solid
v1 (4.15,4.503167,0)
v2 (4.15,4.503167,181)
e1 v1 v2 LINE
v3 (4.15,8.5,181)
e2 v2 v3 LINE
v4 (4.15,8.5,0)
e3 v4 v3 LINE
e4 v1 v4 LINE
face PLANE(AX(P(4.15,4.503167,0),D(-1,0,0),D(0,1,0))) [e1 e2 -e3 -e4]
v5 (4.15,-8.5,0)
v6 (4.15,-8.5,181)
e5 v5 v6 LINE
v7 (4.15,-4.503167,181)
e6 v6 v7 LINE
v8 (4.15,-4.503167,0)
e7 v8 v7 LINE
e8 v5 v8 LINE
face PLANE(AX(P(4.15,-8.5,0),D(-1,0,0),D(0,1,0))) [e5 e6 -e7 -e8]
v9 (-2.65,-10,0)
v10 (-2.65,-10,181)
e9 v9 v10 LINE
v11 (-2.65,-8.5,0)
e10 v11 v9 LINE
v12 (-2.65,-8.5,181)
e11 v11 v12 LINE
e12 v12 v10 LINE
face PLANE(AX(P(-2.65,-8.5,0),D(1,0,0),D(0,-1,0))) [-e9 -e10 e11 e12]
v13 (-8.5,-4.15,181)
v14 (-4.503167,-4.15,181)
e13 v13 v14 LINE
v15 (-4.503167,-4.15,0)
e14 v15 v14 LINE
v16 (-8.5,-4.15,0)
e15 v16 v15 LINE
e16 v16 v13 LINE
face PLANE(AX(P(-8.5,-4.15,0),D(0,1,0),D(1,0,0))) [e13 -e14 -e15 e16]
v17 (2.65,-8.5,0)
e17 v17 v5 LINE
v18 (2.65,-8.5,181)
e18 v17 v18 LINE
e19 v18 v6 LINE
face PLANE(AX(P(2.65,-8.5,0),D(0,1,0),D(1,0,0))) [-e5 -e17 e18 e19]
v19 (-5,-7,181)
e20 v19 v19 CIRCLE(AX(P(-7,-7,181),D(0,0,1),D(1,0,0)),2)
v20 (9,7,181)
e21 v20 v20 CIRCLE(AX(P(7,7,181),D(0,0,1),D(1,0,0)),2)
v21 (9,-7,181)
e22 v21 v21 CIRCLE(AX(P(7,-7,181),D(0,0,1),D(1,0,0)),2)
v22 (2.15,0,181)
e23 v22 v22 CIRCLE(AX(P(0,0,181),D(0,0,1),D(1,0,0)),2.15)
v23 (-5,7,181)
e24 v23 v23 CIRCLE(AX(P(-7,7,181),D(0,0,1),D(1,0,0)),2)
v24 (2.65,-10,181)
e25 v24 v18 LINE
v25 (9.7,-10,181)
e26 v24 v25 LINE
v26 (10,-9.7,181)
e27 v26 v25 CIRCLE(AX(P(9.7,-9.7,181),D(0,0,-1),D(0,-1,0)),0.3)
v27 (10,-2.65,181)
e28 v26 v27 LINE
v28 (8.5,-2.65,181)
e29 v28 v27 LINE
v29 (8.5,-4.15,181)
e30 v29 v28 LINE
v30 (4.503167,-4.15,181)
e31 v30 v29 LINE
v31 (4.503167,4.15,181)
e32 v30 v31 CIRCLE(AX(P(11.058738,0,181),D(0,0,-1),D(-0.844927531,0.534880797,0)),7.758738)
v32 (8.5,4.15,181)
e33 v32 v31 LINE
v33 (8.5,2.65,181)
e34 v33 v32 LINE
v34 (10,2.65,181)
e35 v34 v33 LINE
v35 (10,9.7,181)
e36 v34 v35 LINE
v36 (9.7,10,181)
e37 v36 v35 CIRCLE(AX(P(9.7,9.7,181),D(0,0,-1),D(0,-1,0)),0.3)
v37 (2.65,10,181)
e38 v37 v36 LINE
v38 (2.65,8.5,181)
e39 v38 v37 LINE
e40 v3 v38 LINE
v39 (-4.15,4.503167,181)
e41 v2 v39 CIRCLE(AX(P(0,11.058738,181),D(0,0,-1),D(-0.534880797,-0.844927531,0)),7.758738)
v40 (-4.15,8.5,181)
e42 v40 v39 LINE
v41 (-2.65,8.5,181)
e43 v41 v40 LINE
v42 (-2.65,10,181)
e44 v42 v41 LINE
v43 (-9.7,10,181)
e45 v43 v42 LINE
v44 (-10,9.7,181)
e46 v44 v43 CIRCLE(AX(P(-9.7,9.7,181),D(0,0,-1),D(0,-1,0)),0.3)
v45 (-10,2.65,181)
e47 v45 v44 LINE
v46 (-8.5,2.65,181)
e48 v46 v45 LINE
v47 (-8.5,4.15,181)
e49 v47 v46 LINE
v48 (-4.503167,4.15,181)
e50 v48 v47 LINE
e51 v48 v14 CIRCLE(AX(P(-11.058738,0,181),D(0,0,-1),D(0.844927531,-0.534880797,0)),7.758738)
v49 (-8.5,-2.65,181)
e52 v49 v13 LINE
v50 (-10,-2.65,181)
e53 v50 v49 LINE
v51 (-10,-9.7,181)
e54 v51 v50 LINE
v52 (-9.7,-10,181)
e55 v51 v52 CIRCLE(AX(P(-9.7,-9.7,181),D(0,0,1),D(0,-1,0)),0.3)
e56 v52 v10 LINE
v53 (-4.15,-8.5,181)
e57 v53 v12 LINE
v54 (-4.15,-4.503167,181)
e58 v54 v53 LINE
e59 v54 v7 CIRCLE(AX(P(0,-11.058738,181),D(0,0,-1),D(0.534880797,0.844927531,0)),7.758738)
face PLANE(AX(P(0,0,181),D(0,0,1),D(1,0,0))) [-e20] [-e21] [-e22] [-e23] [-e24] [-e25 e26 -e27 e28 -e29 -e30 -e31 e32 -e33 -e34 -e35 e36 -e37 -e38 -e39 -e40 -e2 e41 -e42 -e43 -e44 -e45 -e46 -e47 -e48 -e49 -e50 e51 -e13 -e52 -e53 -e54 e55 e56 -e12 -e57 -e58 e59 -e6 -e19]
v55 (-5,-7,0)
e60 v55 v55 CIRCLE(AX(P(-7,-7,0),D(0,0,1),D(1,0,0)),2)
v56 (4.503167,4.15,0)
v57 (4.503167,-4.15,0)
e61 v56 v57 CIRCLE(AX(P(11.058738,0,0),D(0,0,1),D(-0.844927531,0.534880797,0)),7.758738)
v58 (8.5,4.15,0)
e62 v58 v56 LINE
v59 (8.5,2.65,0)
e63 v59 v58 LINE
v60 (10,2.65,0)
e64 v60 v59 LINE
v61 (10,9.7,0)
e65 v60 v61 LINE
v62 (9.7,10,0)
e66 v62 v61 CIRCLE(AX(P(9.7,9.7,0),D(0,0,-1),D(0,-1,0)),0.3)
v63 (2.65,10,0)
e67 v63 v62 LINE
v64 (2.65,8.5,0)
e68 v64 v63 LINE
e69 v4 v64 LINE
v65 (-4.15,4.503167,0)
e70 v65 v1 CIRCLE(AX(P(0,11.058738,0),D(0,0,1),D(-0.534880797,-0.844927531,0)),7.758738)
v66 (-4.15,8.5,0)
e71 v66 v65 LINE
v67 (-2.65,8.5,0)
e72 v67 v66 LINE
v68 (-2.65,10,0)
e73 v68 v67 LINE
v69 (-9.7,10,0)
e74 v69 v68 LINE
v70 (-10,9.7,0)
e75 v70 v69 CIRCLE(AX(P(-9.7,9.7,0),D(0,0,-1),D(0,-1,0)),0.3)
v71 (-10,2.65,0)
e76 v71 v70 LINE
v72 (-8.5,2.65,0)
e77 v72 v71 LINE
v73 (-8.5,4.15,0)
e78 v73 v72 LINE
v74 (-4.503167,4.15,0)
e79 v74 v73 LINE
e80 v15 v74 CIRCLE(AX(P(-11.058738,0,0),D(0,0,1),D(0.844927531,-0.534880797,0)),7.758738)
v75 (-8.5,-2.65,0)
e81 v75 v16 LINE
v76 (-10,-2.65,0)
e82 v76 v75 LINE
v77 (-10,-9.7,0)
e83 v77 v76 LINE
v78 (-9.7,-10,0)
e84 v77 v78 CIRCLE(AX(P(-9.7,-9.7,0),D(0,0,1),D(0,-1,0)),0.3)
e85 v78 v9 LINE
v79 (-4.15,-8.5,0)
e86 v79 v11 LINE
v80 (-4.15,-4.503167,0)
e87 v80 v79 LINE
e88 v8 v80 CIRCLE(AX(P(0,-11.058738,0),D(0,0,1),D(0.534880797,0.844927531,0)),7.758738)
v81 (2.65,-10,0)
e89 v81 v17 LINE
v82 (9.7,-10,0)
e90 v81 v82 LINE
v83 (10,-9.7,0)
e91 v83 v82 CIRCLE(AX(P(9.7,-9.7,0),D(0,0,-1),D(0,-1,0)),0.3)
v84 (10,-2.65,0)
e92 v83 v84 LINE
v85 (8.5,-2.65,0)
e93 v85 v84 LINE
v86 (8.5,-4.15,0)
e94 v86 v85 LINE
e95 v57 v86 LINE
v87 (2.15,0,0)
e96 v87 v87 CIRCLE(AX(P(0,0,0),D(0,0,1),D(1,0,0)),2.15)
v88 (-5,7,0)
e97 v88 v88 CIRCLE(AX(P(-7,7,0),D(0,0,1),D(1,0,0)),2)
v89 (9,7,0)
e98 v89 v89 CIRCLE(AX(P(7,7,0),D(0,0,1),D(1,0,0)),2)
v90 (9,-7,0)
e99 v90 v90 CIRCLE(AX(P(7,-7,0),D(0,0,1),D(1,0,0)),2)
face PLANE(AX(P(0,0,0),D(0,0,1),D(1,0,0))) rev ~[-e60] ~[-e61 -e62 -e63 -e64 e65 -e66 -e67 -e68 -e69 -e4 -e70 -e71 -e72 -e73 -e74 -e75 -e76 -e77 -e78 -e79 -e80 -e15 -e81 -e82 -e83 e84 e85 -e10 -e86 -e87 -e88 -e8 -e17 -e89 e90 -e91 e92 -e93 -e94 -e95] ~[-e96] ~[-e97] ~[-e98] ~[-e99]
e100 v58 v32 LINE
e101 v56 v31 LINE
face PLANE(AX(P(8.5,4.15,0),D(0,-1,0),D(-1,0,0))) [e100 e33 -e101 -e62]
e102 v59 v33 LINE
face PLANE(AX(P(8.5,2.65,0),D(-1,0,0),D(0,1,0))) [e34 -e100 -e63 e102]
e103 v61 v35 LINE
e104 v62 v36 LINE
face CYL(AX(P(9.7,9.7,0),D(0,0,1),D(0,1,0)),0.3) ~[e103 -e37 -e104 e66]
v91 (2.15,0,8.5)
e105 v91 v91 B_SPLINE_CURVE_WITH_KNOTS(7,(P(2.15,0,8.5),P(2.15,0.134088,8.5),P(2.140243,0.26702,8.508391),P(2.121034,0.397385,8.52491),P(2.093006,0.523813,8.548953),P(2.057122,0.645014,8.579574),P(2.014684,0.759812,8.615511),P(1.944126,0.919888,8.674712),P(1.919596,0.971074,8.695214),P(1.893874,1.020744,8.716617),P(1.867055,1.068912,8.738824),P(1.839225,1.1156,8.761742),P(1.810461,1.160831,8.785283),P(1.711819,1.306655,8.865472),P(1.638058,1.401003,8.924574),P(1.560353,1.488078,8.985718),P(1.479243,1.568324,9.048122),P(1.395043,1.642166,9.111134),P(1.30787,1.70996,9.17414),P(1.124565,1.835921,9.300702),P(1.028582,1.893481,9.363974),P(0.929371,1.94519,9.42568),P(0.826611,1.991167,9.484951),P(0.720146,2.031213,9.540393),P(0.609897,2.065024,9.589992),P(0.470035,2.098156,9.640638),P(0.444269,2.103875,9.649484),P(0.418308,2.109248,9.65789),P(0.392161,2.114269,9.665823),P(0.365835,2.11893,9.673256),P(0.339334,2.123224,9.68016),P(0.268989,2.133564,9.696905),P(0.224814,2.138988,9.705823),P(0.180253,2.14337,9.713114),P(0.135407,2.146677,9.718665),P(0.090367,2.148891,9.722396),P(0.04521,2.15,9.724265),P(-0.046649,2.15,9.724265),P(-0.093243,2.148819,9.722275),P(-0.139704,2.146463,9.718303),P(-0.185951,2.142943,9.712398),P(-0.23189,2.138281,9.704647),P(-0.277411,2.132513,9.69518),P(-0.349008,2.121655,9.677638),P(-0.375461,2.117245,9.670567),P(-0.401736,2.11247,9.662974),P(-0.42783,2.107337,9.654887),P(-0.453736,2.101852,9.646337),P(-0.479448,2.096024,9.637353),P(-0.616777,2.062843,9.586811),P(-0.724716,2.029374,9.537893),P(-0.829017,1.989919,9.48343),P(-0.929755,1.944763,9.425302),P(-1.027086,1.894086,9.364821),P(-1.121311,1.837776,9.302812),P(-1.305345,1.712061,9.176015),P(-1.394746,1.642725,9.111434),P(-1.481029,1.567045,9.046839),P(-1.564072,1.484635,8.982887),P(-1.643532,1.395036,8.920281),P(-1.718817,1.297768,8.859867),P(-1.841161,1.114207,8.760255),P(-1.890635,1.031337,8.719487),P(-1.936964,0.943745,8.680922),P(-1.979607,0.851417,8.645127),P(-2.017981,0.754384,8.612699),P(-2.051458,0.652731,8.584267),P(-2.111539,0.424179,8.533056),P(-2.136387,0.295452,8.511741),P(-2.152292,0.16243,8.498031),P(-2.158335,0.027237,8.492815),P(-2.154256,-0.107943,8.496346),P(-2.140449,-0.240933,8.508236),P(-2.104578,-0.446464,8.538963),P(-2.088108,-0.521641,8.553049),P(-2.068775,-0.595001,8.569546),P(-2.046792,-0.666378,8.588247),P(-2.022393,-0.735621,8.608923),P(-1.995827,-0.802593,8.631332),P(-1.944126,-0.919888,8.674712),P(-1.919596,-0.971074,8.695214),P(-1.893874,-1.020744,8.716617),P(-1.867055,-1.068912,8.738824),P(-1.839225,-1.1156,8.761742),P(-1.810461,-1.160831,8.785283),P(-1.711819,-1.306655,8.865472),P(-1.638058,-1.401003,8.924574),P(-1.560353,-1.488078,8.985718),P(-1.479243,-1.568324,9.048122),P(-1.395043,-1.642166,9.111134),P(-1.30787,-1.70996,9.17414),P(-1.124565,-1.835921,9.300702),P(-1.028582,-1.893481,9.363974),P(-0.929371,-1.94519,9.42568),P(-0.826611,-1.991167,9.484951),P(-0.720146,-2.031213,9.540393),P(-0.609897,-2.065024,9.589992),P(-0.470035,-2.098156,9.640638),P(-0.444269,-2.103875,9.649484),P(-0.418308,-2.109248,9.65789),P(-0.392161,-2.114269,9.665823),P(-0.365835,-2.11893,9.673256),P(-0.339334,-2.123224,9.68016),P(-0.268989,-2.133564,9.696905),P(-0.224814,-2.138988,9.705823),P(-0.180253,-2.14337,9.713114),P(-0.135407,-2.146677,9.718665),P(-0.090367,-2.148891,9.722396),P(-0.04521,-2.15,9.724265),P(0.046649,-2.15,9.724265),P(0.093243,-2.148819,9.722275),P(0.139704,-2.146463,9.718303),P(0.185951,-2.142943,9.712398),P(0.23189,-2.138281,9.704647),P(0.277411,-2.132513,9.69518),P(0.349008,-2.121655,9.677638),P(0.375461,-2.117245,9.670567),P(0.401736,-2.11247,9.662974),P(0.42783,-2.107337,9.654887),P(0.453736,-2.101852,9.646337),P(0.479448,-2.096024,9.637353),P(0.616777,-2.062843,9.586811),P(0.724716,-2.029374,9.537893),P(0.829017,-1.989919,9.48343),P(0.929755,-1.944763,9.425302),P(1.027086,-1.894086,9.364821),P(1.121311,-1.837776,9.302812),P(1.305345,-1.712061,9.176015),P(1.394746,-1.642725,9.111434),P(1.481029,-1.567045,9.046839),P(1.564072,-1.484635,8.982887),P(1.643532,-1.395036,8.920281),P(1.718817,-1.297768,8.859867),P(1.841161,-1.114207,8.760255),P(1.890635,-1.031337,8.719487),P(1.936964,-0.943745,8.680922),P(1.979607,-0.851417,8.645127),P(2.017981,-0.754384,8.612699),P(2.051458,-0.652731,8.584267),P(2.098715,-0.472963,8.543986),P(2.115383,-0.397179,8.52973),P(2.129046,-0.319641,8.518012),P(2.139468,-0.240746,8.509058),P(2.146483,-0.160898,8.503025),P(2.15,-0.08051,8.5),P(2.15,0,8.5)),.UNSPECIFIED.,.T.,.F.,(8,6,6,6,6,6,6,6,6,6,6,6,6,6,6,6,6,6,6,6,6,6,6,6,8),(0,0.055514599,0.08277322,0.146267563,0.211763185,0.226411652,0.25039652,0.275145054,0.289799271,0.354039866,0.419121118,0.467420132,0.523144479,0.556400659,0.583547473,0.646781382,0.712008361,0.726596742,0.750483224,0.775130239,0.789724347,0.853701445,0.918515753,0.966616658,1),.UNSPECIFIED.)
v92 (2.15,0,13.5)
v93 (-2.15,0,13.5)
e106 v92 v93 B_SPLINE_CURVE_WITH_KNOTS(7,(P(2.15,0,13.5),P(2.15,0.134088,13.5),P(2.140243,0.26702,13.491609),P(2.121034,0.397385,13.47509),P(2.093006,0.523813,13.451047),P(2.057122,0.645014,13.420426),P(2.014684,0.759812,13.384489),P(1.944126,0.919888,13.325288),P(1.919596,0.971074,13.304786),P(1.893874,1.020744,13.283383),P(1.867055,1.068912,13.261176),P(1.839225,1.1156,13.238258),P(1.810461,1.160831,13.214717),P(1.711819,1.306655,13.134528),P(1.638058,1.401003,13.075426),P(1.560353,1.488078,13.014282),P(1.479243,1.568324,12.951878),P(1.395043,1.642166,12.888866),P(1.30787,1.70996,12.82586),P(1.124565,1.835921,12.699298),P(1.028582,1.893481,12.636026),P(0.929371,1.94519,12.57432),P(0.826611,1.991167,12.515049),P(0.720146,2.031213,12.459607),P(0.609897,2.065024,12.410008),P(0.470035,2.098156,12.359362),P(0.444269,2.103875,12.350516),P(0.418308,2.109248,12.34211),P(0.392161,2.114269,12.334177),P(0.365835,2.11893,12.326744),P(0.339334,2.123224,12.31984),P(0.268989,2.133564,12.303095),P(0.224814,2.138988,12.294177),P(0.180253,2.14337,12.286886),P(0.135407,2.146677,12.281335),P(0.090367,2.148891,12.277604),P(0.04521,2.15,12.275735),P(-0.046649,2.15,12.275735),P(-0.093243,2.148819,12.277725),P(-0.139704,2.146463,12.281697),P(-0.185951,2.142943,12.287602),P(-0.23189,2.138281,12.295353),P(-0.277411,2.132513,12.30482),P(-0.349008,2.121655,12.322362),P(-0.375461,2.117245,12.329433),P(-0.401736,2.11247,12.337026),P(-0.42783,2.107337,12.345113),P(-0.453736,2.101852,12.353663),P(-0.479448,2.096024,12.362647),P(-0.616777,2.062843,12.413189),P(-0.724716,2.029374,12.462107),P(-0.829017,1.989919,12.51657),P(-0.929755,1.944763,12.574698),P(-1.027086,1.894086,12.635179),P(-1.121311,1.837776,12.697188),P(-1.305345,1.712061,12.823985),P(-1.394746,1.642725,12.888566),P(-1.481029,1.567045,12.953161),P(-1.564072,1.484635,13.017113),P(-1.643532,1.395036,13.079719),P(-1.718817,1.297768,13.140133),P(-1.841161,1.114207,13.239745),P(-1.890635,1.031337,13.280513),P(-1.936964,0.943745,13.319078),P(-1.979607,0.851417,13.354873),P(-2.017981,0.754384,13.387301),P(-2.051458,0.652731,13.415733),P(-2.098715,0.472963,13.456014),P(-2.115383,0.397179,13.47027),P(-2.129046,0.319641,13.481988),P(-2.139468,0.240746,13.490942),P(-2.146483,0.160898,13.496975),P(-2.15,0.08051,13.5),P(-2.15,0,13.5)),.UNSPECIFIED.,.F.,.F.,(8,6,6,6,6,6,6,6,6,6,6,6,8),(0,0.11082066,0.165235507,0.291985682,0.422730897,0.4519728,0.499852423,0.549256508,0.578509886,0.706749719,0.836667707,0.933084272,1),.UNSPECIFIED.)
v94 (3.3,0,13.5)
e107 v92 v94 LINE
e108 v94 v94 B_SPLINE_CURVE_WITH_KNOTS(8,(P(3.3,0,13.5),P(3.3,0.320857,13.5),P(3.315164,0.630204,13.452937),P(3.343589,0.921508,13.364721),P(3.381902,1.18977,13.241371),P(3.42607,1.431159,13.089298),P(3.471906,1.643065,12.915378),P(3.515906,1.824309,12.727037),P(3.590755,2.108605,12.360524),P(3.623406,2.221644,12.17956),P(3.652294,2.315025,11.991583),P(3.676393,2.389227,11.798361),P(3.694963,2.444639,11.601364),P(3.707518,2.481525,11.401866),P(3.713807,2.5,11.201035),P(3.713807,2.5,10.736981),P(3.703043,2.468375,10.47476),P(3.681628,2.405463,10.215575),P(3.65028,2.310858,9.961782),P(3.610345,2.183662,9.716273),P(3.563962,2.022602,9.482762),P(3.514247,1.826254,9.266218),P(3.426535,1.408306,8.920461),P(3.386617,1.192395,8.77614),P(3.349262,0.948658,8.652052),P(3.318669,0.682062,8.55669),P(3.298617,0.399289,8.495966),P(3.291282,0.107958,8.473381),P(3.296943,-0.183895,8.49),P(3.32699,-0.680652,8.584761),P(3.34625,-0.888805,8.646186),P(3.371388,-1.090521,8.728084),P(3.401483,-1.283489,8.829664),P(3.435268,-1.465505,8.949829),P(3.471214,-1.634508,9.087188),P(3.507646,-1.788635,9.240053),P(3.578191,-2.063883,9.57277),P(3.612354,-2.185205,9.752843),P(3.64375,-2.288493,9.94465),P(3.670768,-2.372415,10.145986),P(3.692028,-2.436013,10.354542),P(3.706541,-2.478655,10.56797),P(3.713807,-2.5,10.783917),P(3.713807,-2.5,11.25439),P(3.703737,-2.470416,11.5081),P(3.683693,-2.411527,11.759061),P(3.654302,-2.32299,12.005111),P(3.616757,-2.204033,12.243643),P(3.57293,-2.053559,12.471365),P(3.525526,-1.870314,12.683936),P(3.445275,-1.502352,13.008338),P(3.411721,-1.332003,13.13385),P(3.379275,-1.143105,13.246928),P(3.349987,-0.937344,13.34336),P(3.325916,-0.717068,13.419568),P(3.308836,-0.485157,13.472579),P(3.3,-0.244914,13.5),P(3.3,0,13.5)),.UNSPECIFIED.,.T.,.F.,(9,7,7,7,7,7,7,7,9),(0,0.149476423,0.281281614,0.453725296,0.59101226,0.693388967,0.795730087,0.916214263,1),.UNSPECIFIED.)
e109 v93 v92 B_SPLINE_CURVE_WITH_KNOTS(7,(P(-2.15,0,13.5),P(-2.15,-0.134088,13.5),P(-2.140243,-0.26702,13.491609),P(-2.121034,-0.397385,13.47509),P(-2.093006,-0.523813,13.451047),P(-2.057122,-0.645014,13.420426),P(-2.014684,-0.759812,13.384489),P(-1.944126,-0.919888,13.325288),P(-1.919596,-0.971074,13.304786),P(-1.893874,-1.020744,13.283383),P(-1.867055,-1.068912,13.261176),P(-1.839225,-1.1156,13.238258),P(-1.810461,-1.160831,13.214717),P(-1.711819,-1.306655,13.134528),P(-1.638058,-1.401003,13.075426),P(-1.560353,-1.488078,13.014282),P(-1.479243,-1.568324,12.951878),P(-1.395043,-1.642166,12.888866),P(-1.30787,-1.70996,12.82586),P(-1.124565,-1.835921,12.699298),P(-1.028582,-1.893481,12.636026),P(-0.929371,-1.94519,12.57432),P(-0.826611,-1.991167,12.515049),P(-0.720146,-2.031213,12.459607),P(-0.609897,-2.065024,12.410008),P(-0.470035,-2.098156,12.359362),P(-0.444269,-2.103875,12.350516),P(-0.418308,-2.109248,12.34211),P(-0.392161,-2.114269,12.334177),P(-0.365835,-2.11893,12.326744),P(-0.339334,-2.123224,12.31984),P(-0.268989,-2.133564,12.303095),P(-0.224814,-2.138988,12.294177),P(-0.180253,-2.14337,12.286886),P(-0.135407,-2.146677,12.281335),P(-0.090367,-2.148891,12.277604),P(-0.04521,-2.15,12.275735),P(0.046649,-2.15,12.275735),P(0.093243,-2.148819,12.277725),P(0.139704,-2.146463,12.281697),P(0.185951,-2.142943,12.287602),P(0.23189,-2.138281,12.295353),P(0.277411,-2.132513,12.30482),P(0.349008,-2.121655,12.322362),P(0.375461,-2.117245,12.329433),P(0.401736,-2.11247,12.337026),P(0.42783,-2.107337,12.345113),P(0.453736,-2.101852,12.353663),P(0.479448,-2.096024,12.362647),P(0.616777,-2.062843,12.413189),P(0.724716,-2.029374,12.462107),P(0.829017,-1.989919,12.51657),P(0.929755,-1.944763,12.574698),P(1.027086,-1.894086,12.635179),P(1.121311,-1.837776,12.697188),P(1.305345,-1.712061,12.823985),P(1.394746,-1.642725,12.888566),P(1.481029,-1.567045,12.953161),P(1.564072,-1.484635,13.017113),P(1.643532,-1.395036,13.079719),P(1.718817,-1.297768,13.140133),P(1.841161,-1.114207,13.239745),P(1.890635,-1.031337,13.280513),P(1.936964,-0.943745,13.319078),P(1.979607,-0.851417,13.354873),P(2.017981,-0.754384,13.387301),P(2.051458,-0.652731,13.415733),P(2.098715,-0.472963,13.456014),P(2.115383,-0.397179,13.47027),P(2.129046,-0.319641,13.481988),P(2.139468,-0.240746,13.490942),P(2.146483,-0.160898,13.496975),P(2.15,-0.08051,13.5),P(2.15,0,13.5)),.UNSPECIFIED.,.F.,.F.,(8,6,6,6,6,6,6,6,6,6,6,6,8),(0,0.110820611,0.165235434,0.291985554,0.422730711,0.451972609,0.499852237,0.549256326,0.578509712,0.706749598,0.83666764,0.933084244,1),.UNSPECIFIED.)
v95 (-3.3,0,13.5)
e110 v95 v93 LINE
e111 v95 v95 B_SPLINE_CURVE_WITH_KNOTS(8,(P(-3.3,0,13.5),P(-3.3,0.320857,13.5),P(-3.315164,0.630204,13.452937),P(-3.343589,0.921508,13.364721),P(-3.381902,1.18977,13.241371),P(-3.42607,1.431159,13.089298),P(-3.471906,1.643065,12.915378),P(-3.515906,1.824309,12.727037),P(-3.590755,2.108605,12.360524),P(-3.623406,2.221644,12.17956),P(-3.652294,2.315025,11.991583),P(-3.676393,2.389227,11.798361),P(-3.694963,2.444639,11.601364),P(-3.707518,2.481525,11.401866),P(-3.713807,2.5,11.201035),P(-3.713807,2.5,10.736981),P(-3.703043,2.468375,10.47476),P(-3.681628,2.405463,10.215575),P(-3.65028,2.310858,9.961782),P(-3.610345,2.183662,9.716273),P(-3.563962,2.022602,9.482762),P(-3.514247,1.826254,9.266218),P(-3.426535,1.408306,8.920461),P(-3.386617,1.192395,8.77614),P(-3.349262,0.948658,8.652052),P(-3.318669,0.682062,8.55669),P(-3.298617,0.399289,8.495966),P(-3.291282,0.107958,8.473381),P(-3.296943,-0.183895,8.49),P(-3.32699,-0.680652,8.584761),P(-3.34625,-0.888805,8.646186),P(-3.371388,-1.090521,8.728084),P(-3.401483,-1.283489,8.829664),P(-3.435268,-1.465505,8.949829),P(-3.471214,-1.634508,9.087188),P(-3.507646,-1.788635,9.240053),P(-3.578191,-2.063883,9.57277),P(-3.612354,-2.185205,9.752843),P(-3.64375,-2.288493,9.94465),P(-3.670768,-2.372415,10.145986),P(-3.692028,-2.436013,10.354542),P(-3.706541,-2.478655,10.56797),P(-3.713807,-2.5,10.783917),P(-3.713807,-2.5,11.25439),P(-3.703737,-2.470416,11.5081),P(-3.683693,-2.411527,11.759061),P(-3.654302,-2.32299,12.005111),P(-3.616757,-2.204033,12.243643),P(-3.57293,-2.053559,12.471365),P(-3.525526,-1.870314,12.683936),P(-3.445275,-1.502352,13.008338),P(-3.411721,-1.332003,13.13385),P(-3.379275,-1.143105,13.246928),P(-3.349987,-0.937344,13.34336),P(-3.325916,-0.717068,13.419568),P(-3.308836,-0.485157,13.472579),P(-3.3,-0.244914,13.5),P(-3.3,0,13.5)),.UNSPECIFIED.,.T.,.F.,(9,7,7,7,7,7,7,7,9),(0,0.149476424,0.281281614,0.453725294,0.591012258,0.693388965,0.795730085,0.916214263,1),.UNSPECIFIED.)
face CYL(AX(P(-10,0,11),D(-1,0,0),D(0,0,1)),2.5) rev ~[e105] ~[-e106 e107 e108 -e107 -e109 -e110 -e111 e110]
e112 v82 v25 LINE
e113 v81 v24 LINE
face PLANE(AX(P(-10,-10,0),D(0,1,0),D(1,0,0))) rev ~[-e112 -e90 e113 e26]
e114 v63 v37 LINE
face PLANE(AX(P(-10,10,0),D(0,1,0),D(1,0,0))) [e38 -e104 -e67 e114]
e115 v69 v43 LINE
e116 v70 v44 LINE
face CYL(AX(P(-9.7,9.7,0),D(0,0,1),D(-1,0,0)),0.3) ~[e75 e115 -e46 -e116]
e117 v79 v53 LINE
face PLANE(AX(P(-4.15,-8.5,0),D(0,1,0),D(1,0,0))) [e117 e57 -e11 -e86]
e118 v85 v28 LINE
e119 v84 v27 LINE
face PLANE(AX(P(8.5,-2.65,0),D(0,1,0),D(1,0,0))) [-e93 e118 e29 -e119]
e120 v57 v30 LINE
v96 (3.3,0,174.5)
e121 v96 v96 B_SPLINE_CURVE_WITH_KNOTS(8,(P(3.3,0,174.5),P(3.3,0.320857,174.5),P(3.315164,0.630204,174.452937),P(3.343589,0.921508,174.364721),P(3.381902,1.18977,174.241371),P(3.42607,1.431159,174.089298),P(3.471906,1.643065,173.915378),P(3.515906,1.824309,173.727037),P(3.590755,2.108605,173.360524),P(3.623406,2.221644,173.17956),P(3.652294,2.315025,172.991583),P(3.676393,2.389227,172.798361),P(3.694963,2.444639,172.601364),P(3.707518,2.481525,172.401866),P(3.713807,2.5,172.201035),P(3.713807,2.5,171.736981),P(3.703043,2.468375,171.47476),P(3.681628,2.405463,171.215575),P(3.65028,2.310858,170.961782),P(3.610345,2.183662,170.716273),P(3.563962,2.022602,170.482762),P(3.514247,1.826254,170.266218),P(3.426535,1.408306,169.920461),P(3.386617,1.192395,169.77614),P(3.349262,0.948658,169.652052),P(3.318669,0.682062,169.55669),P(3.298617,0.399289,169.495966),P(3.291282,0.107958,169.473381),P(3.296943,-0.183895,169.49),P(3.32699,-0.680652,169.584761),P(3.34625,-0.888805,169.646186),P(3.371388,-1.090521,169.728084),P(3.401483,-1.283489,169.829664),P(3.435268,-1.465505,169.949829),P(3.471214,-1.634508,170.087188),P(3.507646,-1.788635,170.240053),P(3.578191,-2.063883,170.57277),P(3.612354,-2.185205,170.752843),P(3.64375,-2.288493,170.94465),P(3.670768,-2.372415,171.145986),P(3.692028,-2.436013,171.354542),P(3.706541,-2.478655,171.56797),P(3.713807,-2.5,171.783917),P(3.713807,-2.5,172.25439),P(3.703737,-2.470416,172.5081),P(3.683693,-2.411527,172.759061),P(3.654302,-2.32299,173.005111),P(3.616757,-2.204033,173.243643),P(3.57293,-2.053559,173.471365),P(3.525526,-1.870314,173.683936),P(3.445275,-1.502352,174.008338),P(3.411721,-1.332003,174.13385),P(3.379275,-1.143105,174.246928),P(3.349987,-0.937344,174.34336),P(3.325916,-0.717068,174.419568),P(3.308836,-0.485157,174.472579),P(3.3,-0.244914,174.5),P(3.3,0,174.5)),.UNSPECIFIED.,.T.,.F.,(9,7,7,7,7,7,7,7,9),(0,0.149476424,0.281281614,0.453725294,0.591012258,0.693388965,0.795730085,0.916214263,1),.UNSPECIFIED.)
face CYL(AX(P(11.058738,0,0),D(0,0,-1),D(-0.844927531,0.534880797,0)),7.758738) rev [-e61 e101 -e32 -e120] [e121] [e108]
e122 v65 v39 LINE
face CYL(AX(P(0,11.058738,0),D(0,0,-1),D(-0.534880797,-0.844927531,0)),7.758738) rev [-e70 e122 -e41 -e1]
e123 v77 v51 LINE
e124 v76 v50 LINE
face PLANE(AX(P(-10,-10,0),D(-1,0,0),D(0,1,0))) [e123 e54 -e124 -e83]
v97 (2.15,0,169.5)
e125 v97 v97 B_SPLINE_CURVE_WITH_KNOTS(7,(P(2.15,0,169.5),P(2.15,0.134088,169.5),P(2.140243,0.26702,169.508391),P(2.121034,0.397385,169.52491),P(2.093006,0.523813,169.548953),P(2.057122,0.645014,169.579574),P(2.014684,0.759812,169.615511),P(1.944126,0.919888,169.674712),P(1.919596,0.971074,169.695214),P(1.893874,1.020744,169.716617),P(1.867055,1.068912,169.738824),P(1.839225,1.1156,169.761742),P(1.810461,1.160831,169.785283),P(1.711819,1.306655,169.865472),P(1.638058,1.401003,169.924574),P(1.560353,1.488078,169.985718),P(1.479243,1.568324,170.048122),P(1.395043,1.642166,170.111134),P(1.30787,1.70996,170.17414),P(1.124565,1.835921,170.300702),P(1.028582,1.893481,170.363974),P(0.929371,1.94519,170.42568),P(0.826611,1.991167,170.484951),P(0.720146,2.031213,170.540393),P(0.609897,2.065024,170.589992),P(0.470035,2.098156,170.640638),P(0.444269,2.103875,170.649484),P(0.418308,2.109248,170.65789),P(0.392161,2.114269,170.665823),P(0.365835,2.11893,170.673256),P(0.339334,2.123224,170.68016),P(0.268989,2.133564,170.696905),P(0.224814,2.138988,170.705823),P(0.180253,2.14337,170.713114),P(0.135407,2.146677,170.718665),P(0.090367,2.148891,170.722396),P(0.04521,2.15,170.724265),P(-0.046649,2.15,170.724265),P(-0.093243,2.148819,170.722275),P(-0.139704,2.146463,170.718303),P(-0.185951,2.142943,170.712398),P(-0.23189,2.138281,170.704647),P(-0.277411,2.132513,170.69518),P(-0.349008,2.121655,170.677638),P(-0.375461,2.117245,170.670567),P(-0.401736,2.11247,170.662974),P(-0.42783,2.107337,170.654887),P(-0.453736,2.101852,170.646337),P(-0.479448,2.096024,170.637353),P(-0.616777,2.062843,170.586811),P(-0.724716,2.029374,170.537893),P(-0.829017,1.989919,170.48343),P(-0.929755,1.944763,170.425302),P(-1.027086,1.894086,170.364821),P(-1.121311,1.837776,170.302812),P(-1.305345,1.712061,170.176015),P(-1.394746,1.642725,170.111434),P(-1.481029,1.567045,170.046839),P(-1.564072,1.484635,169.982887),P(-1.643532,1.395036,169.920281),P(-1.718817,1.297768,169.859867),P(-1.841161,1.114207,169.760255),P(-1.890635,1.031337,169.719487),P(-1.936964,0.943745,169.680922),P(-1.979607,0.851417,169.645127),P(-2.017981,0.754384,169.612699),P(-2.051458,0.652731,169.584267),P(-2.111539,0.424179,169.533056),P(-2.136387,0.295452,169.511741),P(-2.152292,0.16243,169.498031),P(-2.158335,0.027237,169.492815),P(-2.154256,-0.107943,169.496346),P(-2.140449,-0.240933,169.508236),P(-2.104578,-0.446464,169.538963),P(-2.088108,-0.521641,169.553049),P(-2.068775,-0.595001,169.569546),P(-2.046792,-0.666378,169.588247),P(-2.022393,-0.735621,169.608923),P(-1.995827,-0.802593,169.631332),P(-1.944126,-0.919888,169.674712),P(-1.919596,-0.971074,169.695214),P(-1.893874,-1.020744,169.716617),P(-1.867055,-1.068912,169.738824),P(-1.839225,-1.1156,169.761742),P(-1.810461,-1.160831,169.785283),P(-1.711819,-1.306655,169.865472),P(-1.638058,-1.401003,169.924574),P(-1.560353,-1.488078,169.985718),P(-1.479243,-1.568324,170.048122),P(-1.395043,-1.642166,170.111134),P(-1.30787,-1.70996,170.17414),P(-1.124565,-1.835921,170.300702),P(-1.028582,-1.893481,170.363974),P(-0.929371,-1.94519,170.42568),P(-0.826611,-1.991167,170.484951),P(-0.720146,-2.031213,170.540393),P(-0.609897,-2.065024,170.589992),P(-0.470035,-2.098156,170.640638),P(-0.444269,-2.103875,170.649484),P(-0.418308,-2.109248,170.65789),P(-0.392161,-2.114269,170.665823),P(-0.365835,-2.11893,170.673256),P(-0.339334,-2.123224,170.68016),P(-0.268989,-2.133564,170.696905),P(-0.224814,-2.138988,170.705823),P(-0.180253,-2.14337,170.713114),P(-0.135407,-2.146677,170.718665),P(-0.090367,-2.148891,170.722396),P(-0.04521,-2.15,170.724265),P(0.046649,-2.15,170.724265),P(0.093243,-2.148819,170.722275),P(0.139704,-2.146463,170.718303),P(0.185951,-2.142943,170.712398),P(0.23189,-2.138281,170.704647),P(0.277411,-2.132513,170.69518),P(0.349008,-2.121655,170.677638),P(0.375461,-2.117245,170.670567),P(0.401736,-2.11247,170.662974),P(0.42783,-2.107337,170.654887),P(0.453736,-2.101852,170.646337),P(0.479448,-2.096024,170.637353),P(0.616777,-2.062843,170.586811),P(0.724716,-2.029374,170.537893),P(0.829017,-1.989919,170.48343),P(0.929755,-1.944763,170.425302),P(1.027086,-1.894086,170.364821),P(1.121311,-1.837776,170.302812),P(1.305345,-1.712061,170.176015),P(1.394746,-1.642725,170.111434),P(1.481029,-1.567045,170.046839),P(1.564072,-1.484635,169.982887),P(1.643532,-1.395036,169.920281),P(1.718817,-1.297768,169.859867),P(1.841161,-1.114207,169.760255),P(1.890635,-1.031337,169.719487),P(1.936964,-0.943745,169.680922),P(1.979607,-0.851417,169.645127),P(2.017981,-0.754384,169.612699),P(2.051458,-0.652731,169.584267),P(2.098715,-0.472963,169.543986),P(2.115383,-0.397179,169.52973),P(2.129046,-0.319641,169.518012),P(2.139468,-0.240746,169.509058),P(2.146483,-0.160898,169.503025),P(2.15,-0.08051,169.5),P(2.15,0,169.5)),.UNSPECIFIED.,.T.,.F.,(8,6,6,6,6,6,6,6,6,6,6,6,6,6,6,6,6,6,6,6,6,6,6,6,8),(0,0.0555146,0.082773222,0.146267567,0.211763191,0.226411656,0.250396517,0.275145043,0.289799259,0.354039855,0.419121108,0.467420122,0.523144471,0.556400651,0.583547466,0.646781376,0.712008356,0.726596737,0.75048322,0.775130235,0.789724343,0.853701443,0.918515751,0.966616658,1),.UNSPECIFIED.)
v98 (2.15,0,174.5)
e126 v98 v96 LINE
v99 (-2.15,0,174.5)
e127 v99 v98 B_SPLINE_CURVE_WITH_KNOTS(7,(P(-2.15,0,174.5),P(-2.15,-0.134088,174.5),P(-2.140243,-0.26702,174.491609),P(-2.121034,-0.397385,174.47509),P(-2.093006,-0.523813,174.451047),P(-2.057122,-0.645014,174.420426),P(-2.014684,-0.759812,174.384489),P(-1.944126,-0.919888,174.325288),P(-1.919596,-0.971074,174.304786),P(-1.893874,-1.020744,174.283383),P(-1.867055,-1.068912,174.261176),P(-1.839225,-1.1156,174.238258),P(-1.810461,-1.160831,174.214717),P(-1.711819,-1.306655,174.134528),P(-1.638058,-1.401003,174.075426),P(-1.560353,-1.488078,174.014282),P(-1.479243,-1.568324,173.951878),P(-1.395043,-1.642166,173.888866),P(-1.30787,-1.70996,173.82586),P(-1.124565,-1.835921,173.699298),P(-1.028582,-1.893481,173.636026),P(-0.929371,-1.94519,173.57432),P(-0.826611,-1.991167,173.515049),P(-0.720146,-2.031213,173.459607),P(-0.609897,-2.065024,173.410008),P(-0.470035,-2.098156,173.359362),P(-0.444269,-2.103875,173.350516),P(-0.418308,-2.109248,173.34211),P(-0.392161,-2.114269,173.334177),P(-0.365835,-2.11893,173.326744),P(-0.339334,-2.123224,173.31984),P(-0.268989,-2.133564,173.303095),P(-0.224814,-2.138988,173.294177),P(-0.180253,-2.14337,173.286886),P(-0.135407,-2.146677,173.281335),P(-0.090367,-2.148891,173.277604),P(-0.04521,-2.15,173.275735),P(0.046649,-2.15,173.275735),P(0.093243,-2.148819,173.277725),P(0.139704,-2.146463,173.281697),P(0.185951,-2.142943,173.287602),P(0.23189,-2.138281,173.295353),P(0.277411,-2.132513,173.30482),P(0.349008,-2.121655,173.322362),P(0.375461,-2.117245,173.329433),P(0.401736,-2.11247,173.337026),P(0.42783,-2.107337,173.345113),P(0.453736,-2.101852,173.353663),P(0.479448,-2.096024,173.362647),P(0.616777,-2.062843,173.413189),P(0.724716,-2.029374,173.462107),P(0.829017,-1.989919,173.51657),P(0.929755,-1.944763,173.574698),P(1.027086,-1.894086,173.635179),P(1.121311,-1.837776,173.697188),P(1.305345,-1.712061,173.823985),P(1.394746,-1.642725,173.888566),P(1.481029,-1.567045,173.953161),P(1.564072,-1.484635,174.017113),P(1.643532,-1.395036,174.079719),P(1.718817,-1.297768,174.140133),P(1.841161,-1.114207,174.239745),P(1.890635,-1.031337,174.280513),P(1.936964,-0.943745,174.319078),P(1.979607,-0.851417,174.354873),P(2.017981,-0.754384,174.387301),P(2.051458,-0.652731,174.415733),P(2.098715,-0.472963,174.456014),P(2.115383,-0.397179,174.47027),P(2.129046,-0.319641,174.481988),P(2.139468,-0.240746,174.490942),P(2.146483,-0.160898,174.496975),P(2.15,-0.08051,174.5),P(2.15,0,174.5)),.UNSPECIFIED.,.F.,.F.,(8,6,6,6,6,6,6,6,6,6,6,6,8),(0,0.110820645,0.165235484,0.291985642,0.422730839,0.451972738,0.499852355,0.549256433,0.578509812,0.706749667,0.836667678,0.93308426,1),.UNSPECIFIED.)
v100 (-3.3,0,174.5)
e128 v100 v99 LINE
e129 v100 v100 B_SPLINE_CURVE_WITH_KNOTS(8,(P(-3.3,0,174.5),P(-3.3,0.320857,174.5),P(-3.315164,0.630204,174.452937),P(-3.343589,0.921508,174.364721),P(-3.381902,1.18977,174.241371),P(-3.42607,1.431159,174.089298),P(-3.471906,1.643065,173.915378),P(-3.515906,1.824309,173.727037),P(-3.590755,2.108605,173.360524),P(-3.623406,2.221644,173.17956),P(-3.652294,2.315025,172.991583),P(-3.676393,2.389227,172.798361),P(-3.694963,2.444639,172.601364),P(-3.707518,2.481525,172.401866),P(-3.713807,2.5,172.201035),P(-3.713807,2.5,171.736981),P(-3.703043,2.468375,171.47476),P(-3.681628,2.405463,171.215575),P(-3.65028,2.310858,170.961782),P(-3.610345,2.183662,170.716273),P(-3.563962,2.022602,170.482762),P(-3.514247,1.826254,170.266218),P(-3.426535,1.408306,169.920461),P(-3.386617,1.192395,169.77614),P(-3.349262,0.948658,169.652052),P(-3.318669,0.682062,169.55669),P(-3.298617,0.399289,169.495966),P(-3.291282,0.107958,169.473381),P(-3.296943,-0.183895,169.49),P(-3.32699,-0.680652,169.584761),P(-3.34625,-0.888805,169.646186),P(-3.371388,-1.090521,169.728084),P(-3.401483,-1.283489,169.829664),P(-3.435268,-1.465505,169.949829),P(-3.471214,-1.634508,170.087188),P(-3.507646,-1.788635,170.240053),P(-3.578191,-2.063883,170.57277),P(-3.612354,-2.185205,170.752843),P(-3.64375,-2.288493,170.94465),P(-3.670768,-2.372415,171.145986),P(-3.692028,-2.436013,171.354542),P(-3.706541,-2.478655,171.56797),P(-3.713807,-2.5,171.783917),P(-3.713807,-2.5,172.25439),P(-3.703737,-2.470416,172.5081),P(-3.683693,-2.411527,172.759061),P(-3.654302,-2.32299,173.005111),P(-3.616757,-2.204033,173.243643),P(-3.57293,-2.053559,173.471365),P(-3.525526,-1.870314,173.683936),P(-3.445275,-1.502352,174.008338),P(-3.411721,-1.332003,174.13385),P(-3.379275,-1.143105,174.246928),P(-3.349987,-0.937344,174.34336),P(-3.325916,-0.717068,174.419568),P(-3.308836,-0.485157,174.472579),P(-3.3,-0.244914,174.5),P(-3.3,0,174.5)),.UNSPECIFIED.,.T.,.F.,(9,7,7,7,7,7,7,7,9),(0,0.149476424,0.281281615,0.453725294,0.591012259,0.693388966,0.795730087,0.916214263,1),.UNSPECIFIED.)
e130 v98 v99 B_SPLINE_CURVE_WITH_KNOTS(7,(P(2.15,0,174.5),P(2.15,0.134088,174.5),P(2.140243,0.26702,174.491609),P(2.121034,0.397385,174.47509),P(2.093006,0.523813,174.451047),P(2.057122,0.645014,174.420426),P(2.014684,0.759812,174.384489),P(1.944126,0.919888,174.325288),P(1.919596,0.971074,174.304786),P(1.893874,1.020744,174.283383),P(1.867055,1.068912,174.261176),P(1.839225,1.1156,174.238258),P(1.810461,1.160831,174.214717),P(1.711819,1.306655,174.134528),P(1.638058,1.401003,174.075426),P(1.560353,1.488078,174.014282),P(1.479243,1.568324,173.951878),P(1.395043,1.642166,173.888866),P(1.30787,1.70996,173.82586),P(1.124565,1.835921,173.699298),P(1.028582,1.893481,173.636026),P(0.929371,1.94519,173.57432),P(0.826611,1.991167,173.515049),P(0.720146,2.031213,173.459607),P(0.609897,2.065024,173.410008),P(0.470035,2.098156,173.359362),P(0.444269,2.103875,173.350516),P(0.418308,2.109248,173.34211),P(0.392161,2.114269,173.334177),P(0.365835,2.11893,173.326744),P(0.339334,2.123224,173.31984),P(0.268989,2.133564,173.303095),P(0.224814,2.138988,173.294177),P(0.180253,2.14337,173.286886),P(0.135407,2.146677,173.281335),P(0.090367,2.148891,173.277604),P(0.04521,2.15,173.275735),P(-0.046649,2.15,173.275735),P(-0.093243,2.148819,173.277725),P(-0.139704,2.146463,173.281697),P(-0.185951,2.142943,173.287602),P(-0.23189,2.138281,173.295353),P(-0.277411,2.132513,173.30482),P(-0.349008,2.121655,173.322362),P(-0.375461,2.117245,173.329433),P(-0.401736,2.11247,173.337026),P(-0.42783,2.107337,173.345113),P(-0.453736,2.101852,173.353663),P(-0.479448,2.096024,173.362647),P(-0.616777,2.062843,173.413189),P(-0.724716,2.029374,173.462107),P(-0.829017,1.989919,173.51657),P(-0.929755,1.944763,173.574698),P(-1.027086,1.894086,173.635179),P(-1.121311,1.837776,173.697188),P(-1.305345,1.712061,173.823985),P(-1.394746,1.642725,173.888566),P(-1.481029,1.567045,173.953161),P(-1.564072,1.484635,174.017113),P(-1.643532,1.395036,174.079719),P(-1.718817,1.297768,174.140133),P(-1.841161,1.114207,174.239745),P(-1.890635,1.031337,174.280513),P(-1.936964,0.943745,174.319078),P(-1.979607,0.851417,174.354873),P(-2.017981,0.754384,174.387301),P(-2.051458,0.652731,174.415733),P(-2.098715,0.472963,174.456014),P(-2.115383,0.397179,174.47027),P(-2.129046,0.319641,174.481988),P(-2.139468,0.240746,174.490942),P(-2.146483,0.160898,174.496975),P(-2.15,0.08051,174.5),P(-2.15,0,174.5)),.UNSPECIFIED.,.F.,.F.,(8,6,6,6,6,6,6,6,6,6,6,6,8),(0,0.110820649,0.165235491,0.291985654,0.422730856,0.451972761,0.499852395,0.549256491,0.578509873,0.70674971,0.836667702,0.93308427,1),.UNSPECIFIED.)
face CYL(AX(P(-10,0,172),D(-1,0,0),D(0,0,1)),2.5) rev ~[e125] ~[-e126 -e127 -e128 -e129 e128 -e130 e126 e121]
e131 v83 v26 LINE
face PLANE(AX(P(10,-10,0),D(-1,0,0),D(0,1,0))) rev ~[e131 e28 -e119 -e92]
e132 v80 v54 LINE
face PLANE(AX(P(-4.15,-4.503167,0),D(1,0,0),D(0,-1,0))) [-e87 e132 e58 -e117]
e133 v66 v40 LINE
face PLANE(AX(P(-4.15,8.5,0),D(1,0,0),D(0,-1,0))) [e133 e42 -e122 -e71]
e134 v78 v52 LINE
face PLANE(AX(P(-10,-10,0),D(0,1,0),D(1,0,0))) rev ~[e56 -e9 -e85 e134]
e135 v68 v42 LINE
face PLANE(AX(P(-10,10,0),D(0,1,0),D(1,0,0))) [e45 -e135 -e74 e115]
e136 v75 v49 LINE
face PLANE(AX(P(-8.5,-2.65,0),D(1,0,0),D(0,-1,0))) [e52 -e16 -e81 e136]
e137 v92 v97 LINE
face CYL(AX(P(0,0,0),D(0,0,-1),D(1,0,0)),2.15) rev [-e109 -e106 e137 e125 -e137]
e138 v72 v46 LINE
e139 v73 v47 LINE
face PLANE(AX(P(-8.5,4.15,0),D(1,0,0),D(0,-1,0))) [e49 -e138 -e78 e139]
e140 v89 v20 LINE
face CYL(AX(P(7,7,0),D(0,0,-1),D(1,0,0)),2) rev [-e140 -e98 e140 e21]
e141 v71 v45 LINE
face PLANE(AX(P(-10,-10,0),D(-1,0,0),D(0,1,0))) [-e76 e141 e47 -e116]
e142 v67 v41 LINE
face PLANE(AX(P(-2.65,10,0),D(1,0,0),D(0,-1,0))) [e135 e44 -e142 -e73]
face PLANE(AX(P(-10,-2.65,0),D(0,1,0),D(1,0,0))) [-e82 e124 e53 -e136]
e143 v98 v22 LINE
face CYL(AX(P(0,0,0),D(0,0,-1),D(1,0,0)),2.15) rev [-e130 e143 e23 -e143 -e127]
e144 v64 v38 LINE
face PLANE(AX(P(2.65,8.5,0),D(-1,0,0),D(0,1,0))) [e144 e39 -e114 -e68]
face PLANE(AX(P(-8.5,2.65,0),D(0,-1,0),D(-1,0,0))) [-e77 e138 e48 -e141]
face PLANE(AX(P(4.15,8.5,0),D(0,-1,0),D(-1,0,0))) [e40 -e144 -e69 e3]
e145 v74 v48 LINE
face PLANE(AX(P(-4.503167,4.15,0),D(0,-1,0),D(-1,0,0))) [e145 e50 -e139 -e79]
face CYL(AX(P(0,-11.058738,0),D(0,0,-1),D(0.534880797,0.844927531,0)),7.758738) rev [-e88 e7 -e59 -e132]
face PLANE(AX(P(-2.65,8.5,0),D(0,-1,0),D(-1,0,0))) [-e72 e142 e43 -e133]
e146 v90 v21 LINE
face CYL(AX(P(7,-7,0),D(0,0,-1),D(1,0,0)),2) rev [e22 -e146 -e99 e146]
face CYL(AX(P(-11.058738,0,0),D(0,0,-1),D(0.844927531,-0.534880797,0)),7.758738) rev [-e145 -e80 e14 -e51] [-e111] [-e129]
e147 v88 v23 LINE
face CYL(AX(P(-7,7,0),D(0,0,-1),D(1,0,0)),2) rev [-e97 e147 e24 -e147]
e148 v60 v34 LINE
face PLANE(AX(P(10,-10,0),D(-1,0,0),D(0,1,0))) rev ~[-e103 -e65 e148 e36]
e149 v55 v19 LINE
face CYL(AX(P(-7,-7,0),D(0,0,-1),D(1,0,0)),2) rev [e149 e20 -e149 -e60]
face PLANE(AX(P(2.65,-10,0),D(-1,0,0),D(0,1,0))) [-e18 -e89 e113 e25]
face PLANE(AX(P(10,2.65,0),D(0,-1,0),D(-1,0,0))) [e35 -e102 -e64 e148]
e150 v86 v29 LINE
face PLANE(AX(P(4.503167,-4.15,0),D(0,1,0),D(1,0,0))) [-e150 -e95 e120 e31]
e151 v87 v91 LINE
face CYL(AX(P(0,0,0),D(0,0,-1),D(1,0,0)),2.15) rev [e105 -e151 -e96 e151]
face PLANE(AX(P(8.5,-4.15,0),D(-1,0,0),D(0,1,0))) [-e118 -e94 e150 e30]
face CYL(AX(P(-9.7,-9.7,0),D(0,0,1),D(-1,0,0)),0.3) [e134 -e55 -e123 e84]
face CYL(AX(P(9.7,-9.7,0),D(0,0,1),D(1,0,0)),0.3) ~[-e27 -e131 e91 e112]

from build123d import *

# Parameters (mm, degrees)
SKETCH_1_W               = 20
SKETCH_1_H               = 20
SKETCH_1_R               = 2
SKETCH_1_R_2             = 2.15
EXTRUDE_1_DEPTH          = 181
CUT_EXTRUDE_1_REACH      = 183.552
PATTERN_CIRCULAR_1_COUNT = 4
FILLET_1_R               = 0.3
SKETCH_2_R               = 2.5
CUT_EXTRUDE_2_DEPTH      = 183.375985261


with BuildPart() as part:
    # 스케치1 → 보스-돌출1 (new body)
    with BuildSketch(Plane.XY):
        Rectangle(SKETCH_1_W, SKETCH_1_H)
        with Locations((-7, -7)):
            Circle(SKETCH_1_R, mode=Mode.SUBTRACT)
        with Locations((7, -7)):
            Circle(SKETCH_1_R, mode=Mode.SUBTRACT)
        with Locations((-7, 7)):
            Circle(SKETCH_1_R, mode=Mode.SUBTRACT)
        Circle(SKETCH_1_R_2, mode=Mode.SUBTRACT)
        with Locations((7, 7)):
            Circle(SKETCH_1_R, mode=Mode.SUBTRACT)
    extrude(amount=EXTRUDE_1_DEPTH)

    # 스케치1<3> → 컷-돌출1 (cut, up to next)
    with BuildSketch(Plane.XY, mode=Mode.PRIVATE) as cut_extrude_1_sk1:
        with BuildLine():
            Line((-8.5, 2.65), (-10, 2.65))
            Line((-10, 2.65), (-10, -2.65))
            Line((-10, -2.65), (-8.5, -2.65))
            Line((-8.5, -2.65), (-8.5, -4.15))
            Line((-8.5, -4.15), (-4.503166667, -4.15))
            ThreePointArc((-4.503166667, -4.15), (-3.3, 0), (-4.503166667, 4.15))
            Line((-4.503166667, 4.15), (-8.5, 4.15))
            Line((-8.5, 4.15), (-8.5, 2.65))
        make_face()
    cut_extrude_1_tool1 = extrude(cut_extrude_1_sk1.sketch, amount=CUT_EXTRUDE_1_REACH, mode=Mode.PRIVATE) & part.part
    cut_extrude_1 = cut_extrude_1_tool1.solids().sort_by_distance((-6.606913, 0, 0))[0]
    add(cut_extrude_1, mode=Mode.SUBTRACT)

    # 원형 패턴1: 컷-돌출1 ×4 about axis
    pattern_circular_1_axis = Axis((0, 0, 181), (0, 0, -1))
    for i in range(1, PATTERN_CIRCULAR_1_COUNT):
        add(cut_extrude_1.rotate(pattern_circular_1_axis, i * 360 / PATTERN_CIRCULAR_1_COUNT), mode=Mode.SUBTRACT)

    # 필렛1
    fillet_1_edges = [part.edges().sort_by_distance(p)[0] for p in [
        (10, -10, 90.5),
        (-10, -10, 90.5),
        (-10, 10, 90.5),
        (10, 10, 90.5),
    ]]
    fillet(fillet_1_edges, radius=FILLET_1_R)

    # 스케치2 → 컷-돌출2 (cut, through all)
    with BuildSketch(Plane.ZY.offset(10)):
        with Locations((11, 0)):
            Circle(SKETCH_2_R)
        with Locations((172, 0)):
            Circle(SKETCH_2_R)
    extrude(amount=-CUT_EXTRUDE_2_DEPTH, mode=Mode.SUBTRACT)


solid = part.part
